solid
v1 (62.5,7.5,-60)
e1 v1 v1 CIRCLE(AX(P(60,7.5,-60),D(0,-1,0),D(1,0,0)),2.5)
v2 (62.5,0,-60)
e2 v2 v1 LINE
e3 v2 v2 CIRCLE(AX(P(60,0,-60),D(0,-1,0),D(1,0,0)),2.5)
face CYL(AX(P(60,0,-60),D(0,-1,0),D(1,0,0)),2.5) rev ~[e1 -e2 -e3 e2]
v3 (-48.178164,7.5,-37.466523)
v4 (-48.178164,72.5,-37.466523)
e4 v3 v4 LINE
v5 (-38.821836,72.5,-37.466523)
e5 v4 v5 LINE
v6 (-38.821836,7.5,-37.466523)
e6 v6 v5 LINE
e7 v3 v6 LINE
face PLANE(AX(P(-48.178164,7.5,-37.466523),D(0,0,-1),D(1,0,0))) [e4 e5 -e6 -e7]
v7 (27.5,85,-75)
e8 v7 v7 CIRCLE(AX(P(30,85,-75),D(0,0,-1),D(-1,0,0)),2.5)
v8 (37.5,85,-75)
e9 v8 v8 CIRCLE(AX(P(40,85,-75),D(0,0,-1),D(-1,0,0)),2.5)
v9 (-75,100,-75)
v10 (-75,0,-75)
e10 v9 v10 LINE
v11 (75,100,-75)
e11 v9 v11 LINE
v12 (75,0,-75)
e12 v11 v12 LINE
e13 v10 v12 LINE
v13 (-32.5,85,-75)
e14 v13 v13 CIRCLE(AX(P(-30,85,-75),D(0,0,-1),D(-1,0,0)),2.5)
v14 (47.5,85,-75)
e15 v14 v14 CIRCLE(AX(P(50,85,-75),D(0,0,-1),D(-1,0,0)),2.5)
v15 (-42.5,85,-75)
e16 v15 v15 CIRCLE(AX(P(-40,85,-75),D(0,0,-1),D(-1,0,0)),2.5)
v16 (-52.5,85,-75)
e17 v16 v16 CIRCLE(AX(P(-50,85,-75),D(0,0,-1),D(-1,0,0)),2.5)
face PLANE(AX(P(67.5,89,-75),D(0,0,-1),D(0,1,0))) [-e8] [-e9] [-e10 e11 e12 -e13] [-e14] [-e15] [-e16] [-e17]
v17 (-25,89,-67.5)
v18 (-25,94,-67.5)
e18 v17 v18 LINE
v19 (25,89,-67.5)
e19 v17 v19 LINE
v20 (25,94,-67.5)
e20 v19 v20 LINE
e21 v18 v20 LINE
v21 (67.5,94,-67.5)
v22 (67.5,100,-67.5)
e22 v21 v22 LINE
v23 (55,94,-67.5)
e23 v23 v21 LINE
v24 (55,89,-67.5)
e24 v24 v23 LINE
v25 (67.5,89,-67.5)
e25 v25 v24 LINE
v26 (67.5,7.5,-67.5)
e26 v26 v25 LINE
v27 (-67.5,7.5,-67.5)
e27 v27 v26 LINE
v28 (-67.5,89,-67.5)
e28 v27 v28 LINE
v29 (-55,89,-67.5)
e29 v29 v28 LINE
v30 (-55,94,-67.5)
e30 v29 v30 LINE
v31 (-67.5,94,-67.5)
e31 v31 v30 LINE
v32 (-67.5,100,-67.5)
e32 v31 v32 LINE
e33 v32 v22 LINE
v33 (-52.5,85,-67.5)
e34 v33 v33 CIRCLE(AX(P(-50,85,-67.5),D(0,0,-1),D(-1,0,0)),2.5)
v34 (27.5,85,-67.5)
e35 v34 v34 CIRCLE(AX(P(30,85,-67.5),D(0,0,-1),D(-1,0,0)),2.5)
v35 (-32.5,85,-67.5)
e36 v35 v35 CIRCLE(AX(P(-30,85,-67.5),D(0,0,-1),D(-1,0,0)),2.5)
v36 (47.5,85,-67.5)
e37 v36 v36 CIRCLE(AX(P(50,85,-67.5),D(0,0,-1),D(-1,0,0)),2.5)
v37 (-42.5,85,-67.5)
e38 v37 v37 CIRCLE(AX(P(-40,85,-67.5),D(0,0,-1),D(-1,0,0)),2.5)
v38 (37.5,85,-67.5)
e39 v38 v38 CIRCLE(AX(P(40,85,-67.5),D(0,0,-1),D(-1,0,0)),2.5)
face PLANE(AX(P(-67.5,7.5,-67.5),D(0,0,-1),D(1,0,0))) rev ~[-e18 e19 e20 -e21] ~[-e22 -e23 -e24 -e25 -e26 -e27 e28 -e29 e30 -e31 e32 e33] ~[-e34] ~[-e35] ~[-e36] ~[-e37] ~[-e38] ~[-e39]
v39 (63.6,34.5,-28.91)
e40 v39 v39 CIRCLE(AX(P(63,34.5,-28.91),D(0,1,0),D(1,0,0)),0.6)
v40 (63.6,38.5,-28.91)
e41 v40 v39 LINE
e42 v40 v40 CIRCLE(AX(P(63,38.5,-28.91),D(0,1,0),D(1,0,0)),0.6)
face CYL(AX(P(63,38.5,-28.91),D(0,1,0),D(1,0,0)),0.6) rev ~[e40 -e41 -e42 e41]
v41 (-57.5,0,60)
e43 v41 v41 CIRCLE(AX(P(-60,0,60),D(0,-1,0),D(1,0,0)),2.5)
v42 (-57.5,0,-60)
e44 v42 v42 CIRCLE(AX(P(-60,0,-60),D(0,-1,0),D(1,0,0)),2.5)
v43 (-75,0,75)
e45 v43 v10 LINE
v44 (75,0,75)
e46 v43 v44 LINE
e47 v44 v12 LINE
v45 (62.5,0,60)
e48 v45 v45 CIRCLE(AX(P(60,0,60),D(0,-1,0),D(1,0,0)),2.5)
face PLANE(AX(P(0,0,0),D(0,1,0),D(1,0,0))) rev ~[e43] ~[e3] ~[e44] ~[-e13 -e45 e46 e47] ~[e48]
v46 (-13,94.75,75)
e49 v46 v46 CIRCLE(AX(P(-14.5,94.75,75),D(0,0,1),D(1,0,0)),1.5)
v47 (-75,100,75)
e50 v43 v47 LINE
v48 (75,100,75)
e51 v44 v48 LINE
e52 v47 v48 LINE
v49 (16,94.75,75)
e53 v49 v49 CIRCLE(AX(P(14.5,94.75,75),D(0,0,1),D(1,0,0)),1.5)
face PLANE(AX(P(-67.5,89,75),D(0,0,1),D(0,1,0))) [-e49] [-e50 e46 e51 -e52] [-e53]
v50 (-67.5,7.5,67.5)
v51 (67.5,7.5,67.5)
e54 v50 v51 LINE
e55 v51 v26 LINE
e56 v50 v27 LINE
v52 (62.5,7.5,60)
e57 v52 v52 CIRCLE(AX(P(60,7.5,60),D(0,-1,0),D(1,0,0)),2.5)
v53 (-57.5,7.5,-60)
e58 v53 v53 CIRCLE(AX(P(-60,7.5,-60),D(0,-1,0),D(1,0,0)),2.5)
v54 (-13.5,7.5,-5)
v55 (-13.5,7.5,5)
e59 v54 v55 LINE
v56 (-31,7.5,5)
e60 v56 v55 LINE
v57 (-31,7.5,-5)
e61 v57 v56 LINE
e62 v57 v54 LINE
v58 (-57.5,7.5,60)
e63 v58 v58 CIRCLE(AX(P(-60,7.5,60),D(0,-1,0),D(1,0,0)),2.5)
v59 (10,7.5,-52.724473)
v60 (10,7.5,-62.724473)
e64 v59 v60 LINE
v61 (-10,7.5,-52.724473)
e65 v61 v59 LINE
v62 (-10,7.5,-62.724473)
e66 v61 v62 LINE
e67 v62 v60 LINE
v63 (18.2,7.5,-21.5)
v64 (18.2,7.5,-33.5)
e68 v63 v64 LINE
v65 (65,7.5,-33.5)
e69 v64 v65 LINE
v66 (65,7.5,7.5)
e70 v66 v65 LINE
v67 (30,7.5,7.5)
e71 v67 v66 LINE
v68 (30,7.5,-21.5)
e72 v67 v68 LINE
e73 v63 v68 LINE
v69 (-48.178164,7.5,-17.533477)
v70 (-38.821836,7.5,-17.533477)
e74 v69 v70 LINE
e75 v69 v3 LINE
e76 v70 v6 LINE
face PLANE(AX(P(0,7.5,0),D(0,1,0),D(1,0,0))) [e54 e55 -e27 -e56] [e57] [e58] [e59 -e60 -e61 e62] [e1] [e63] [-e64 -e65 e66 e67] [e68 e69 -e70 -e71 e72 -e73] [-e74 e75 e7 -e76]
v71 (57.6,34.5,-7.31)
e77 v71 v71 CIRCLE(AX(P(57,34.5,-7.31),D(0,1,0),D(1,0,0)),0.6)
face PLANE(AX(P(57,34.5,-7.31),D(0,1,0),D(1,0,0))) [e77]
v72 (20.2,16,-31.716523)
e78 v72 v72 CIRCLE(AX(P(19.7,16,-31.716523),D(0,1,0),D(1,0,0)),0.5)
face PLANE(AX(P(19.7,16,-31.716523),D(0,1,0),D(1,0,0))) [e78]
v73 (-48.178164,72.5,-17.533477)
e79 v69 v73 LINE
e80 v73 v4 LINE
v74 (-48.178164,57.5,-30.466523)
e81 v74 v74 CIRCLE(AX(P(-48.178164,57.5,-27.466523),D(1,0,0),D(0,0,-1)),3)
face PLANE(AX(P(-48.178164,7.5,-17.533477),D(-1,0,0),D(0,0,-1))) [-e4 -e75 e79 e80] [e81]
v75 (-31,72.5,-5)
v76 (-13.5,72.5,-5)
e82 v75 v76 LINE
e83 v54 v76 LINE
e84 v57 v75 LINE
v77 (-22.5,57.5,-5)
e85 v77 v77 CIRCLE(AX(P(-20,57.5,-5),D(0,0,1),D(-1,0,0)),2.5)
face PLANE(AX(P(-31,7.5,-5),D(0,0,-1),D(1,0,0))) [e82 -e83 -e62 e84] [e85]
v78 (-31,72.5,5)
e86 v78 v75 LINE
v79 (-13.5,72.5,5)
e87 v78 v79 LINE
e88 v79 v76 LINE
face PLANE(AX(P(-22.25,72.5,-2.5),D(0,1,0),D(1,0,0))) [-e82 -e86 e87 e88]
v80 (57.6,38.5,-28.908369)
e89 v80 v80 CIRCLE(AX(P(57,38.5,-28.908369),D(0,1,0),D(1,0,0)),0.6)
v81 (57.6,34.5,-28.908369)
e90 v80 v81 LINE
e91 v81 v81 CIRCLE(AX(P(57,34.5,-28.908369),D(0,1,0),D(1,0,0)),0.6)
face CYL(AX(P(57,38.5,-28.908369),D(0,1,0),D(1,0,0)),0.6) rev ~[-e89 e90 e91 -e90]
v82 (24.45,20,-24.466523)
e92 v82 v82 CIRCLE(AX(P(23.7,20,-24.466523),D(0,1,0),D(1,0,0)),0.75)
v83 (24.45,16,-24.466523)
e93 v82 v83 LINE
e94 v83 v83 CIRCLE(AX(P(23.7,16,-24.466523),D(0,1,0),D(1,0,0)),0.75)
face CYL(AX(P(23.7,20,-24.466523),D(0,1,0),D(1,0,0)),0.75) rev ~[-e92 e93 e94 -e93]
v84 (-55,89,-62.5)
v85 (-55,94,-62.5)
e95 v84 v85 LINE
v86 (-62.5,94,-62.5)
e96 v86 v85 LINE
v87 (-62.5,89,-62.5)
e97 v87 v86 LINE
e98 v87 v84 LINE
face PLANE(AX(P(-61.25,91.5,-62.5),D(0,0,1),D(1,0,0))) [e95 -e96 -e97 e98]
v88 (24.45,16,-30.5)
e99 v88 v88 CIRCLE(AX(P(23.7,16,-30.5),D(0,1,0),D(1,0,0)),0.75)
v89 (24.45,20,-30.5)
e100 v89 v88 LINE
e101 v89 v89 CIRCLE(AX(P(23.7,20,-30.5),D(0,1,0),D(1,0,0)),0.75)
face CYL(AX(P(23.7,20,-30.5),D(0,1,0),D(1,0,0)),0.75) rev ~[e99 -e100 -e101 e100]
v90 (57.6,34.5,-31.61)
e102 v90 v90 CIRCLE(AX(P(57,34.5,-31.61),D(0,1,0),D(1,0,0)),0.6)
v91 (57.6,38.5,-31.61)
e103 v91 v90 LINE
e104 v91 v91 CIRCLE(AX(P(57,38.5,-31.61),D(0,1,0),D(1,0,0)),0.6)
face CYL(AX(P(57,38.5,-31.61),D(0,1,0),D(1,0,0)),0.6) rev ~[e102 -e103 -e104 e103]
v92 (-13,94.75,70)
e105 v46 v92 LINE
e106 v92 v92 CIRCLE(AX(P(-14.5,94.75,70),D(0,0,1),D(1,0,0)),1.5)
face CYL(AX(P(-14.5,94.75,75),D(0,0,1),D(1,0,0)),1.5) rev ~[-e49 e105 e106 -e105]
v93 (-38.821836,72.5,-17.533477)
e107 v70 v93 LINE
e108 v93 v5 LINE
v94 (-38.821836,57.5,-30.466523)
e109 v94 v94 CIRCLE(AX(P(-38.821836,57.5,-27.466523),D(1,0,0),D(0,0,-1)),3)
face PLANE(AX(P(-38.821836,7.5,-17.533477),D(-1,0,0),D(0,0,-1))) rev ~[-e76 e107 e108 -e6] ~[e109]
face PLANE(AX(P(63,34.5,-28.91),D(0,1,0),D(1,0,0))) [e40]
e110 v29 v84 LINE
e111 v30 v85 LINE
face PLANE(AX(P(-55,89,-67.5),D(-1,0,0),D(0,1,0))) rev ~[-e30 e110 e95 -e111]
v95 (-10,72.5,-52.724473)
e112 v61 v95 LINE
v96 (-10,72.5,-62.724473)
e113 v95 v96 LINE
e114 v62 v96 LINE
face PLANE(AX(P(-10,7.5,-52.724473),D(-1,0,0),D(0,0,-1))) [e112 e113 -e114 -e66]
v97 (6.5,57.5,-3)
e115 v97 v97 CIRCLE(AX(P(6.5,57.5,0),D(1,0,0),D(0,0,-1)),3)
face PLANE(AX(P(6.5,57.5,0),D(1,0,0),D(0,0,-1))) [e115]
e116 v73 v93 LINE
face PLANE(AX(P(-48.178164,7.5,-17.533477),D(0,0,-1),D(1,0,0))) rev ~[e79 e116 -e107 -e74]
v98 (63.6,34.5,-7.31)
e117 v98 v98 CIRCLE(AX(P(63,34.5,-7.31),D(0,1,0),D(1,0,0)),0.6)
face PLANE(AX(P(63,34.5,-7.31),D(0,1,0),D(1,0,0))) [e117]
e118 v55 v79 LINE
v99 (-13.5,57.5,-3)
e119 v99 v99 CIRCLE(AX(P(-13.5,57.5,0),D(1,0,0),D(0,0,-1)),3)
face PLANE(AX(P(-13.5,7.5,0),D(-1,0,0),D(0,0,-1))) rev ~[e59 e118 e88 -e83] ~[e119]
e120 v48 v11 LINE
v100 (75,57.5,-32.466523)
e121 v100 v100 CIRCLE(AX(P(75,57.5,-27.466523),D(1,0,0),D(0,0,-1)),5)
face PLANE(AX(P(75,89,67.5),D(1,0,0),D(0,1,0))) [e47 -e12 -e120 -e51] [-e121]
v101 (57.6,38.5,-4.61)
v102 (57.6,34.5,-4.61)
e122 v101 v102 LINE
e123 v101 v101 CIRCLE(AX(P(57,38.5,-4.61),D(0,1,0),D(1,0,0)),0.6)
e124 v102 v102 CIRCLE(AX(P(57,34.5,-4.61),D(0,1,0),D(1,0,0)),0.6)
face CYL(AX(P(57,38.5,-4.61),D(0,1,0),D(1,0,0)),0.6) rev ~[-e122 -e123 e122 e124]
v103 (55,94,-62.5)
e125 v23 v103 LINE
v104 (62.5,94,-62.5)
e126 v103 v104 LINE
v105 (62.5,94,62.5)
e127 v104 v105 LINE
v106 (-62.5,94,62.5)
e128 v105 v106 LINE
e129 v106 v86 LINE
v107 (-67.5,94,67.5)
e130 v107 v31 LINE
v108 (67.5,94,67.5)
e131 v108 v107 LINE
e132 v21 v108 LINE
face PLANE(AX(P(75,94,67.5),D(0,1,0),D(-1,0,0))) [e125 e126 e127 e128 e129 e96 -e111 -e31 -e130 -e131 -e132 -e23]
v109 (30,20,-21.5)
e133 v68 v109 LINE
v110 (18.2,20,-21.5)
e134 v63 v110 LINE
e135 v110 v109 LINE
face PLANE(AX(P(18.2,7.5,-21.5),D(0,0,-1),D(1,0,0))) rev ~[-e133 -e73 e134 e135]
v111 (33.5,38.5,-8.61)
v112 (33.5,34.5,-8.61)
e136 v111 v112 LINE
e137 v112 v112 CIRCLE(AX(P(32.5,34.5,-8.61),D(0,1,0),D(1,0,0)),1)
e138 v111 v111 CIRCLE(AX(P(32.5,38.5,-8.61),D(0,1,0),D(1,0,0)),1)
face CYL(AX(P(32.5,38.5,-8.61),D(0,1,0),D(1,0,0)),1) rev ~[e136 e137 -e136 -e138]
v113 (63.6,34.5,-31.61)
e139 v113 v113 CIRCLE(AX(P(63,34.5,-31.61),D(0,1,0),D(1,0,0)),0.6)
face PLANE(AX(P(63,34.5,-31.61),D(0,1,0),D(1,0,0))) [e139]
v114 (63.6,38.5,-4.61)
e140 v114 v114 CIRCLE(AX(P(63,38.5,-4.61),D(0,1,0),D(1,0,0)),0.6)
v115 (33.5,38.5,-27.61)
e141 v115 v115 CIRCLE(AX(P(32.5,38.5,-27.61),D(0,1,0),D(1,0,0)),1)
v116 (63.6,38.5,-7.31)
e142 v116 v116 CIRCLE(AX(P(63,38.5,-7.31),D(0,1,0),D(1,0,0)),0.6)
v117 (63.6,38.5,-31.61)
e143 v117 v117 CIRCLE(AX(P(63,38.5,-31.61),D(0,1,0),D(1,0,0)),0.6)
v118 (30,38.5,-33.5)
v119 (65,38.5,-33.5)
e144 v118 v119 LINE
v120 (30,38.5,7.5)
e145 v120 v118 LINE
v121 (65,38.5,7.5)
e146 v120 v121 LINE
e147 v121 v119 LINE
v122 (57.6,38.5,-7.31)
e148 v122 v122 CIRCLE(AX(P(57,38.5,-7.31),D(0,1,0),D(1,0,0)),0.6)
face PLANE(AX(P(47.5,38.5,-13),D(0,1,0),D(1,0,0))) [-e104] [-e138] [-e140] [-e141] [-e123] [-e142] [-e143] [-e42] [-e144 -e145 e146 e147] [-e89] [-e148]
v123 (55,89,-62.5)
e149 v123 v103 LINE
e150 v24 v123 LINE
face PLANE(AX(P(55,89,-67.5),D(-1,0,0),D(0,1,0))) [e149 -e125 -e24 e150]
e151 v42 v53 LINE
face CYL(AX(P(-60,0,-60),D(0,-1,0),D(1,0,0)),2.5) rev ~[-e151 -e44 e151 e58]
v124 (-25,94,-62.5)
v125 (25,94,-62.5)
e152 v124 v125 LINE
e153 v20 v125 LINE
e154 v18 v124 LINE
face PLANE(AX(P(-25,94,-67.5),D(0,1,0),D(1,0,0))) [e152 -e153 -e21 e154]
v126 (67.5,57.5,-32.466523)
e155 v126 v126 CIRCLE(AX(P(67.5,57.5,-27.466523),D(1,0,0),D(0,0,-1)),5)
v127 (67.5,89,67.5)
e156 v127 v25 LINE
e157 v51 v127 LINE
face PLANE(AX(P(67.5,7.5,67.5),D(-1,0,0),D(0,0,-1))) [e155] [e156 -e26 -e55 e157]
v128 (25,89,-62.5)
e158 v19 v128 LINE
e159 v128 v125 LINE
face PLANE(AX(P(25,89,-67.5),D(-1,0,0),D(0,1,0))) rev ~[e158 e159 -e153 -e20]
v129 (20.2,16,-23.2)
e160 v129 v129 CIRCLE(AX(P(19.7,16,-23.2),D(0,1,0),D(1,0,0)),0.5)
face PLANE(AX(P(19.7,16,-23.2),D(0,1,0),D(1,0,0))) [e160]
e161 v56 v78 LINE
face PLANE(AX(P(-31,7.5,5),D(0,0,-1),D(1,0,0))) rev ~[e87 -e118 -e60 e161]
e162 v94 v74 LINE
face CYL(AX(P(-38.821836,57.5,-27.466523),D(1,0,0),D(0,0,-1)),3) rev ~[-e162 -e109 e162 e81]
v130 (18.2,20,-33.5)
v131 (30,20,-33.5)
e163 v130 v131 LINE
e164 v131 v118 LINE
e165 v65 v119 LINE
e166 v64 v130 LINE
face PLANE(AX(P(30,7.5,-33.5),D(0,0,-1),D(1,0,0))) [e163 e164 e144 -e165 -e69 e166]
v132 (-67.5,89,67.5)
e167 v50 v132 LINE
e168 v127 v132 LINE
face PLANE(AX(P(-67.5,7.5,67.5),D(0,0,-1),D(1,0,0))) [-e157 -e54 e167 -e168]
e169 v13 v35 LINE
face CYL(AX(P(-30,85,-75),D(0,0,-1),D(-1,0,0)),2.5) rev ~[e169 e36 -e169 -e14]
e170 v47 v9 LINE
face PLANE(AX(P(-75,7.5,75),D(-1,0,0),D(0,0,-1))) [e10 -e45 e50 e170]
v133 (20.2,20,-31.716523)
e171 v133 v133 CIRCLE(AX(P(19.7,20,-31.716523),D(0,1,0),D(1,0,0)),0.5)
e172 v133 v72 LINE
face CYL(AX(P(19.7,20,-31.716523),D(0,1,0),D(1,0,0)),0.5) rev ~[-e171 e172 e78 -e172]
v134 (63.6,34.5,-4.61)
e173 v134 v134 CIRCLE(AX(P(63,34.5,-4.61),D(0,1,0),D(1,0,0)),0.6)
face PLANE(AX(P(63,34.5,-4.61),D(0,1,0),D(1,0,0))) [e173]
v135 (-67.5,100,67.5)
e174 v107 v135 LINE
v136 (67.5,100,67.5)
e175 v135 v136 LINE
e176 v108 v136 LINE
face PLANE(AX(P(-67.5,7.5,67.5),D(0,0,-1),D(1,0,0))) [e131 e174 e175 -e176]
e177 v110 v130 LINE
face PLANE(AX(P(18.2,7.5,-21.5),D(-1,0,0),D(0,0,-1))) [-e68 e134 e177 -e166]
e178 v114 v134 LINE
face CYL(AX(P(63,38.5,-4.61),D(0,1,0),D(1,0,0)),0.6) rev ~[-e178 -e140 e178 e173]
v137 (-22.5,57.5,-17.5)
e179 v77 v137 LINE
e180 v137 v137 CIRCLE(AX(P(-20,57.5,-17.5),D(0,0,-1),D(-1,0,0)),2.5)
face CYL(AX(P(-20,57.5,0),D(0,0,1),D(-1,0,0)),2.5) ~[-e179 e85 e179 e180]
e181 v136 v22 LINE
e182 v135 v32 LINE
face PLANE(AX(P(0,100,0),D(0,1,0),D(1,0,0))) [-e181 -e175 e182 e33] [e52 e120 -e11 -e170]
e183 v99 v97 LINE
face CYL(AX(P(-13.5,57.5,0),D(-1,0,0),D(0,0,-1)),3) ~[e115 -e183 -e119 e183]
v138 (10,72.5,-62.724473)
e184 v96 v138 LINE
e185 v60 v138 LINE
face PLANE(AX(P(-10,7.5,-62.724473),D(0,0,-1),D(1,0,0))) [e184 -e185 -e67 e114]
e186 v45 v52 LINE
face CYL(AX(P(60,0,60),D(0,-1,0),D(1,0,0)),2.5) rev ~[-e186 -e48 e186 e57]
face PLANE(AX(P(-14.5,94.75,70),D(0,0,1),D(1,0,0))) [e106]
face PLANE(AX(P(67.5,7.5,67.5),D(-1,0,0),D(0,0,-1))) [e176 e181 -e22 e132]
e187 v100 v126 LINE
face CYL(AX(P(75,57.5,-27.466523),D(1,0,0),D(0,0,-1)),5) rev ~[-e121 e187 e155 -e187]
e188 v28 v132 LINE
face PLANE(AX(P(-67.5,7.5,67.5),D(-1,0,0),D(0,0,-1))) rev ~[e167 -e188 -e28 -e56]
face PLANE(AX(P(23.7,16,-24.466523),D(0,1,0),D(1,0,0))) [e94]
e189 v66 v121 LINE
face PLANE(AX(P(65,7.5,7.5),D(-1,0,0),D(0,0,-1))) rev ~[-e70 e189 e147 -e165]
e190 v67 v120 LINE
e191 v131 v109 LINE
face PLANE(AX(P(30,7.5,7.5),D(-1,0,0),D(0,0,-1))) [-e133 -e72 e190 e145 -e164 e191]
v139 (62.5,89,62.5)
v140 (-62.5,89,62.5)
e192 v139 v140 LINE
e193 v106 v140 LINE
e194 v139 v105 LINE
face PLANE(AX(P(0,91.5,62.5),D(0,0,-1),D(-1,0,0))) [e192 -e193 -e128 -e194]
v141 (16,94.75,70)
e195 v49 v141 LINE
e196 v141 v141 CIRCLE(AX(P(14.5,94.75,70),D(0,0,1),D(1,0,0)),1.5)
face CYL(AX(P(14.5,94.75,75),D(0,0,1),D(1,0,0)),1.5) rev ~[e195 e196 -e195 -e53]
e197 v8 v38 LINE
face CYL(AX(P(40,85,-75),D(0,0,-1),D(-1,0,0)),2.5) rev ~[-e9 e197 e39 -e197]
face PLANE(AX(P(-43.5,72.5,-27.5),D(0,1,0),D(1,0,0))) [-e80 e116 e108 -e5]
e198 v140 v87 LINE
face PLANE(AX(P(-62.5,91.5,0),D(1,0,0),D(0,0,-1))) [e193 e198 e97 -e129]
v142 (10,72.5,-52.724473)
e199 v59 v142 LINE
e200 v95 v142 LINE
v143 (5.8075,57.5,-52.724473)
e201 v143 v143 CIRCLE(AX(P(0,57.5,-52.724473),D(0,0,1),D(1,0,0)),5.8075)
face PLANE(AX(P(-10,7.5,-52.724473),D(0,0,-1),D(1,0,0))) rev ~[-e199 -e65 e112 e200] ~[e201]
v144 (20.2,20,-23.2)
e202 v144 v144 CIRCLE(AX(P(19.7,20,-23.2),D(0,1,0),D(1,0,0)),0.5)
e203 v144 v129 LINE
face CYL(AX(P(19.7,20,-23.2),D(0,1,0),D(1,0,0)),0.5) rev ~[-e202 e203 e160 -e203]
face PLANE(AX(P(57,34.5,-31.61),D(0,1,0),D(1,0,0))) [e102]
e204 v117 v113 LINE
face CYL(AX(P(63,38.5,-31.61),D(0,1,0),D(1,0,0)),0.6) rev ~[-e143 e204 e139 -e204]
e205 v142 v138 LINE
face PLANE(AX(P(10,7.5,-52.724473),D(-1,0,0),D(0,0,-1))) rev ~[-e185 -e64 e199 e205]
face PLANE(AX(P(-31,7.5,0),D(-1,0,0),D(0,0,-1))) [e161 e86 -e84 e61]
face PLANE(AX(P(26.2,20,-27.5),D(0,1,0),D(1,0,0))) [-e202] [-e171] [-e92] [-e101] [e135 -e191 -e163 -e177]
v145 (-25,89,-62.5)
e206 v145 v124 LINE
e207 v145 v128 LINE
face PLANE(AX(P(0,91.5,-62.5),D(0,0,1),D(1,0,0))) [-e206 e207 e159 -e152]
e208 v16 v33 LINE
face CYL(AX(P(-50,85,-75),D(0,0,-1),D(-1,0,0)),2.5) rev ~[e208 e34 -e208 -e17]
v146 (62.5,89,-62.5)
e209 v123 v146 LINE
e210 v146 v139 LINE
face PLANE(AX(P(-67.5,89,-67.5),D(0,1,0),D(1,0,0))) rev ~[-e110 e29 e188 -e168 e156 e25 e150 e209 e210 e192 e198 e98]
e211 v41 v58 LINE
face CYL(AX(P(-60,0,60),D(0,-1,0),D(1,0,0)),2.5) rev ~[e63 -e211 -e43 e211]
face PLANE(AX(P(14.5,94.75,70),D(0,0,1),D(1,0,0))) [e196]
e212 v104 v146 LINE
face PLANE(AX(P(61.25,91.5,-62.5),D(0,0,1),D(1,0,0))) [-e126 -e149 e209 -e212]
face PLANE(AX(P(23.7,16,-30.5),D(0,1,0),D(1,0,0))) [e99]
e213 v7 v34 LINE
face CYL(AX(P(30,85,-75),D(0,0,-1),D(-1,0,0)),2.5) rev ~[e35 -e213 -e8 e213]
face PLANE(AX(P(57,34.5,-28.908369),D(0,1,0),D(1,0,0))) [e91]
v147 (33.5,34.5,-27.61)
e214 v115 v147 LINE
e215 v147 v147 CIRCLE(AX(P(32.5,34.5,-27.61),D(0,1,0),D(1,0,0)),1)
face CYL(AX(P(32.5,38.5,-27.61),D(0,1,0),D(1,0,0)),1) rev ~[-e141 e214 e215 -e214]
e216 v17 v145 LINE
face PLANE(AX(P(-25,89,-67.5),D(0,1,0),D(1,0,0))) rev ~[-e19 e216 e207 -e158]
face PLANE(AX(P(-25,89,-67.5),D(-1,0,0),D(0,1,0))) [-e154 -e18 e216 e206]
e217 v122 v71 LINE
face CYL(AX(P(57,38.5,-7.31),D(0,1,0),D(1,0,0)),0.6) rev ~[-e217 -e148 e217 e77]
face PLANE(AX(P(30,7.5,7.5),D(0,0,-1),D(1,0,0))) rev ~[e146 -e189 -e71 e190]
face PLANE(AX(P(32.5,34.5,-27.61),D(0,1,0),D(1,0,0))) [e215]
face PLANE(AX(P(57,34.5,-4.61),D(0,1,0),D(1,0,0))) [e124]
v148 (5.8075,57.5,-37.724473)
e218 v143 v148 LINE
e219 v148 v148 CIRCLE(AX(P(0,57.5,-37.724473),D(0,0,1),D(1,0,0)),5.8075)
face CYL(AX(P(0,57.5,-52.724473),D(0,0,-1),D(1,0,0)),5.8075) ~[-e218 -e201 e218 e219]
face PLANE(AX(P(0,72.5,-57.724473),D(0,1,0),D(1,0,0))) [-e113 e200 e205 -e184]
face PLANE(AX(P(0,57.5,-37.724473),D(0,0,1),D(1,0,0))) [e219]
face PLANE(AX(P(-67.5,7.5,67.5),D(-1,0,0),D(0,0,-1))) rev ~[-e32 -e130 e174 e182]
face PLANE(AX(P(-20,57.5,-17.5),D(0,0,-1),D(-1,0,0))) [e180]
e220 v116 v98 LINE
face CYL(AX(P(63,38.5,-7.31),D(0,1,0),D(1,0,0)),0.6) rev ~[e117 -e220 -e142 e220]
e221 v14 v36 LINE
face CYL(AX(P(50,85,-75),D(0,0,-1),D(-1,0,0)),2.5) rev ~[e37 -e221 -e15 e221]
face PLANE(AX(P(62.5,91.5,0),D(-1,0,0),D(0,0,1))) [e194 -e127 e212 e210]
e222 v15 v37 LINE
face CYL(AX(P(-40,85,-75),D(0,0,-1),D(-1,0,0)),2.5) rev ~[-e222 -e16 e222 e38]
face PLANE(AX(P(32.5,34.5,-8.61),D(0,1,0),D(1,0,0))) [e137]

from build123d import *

# Parameters (mm, degrees)
SKETCH1_W            = 150
SKETCH1_H            = 150
BOSS_EXTRUDE1_DEPTH  = 7.5
SKETCH2_W            = 150
SKETCH2_H            = 150
SKETCH2_W_2          = 135
SKETCH2_H_2          = 135
BOSS_EXTRUDE2_DEPTH  = 92.5
SKETCH3_W            = 20
SKETCH3_H            = 10
BOSS_EXTRUDE3_DEPTH  = 65
SKETCH4_R            = 5.8075
BOSS_EXTRUDE4_DEPTH  = 15
SKETCH5_W            = 9.35632758
SKETCH5_H            = 19.933045712
BOSS_EXTRUDE5_DEPTH  = 65
SKETCH7_W            = 7.5
SKETCH7_H            = 5
SKETCH7_W_2          = 10
BOSS_EXTRUDE7_DEPTH  = 65
SKETCH8_R            = 2.5
BOSS_EXTRUDE8_DEPTH  = 17.5
SKETCH10_W           = 17.5
SKETCH10_H           = 5
BOSS_EXTRUDE10_DEPTH = 65
SKETCH12_R           = 3
BOSS_EXTRUDE11_DEPTH = 20
SKETCH6_R            = 3
CUT_EXTRUDE1_DEPTH   = 10
SKETCH13_W           = 16
SKETCH13_H           = 12
BOSS_EXTRUDE12_DEPTH = 12.5
SKETCH14_W           = 35
SKETCH14_H           = 41
BOSS_EXTRUDE13_DEPTH = 31
SKETCH15_R           = 5
CUT_EXTRUDE2_DEPTH   = 10
SKETCH16_W           = 150
SKETCH16_H           = 5
BOSS_EXTRUDE14_DEPTH = 5
SKETCH17_W           = 12.5
SKETCH17_H           = 5
SKETCH17_W_2         = 50
BOSS_EXTRUDE15_DEPTH = 5
SKETCH18_W           = 150
SKETCH18_H           = 5
BOSS_EXTRUDE16_DEPTH = 5
SKETCH19_W           = 150
SKETCH19_H           = 5
BOSS_EXTRUDE17_DEPTH = 5
SKETCH20_R           = 2.5
CUT_EXTRUDE3_DEPTH   = 10
SKETCH21_R           = 2.5
CUT_EXTRUDE4_DEPTH   = 10
SKETCH22_R           = 1.5
CUT_EXTRUDE5_DEPTH   = 5
SKETCH23_R           = 1
SKETCH23_R_2         = 0.6
CUT_EXTRUDE6_DEPTH   = 4
SKETCH24_R           = 0.75
SKETCH24_R_2         = 0.5
CUT_EXTRUDE7_DEPTH   = 4


with BuildPart() as part:
    # Sketch1 → Boss-Extrude1 (new body)
    with BuildSketch(Plane(origin=(0, 0, 0), x_dir=(1, 0, 0), z_dir=(0, 1, 0))):
        Rectangle(SKETCH1_W, SKETCH1_H)
    extrude(amount=BOSS_EXTRUDE1_DEPTH)

    # Sketch2 → Boss-Extrude2 (add)
    with BuildSketch(Plane(origin=(0, 7.5, 0), x_dir=(1, 0, 0), z_dir=(0, 1, 0))):
        Rectangle(SKETCH2_W, SKETCH2_H)
        Rectangle(SKETCH2_W_2, SKETCH2_H_2, mode=Mode.SUBTRACT)
    extrude(amount=BOSS_EXTRUDE2_DEPTH)

    # Sketch3 → Boss-Extrude3 (add)
    with BuildSketch(Plane(origin=(0, 7.5, 0), x_dir=(1, 0, 0), z_dir=(0, 1, 0))):
        with Locations((0, 57.724473197)):
            Rectangle(SKETCH3_W, SKETCH3_H)
    extrude(amount=BOSS_EXTRUDE3_DEPTH)

    # Sketch4 → Boss-Extrude4 (add)
    with BuildSketch(Plane.XY.offset(-52.724473197)):
        with Locations((0, 57.5)):
            Circle(SKETCH4_R)
    extrude(amount=BOSS_EXTRUDE4_DEPTH)

    # Sketch5 → Boss-Extrude5 (add)
    with BuildSketch(Plane(origin=(0, 7.5, 0), x_dir=(1, 0, 0), z_dir=(0, 1, 0))):
        with Locations((-43.5, 27.5)):
            Rectangle(SKETCH5_W, SKETCH5_H)
    extrude(amount=BOSS_EXTRUDE5_DEPTH)

    # Sketch7 → Boss-Extrude7 (add)
    with BuildSketch(Plane(origin=(0, 7.5, 0), x_dir=(1, 0, 0), z_dir=(0, 1, 0))):
        with Locations((-27.25, -2.5)):
            Rectangle(SKETCH7_W, SKETCH7_H)
        with Locations((-18.5, -2.5)):
            Rectangle(SKETCH7_W_2, SKETCH7_H)
    extrude(amount=BOSS_EXTRUDE7_DEPTH)

    # Sketch8 → Boss-Extrude8 (add)
    with BuildSketch(Plane(origin=(0, 0, 0), x_dir=(-1, 0, 0), z_dir=(0, 0, -1))):
        with Locations((20, 57.5)):
            Circle(SKETCH8_R)
    extrude(amount=BOSS_EXTRUDE8_DEPTH)

    # Sketch10 → Boss-Extrude10 (add)
    with BuildSketch(Plane(origin=(0, 7.5, 0), x_dir=(1, 0, 0), z_dir=(0, 1, 0))):
        with Locations((-22.25, 2.5)):
            Rectangle(SKETCH10_W, SKETCH10_H)
    extrude(amount=BOSS_EXTRUDE10_DEPTH)

    # Sketch12 → Boss-Extrude11 (add)
    with BuildSketch(Plane(origin=(-13.5, 0, 0), x_dir=(0, 0, -1), z_dir=(1, 0, 0))):
        with Locations((0, 57.5)):
            Circle(SKETCH12_R)
    extrude(amount=BOSS_EXTRUDE11_DEPTH)

    # Sketch6 → Cut-Extrude1 (cut)
    with BuildSketch(Plane(origin=(-38.82183621, 0, 0), x_dir=(0, 0, -1), z_dir=(1, 0, 0))):
        with Locations((27.466522856, 57.5)):
            Circle(SKETCH6_R)
    extrude(amount=-CUT_EXTRUDE1_DEPTH, mode=Mode.SUBTRACT)

    # Sketch13 → Boss-Extrude12 (add)
    with BuildSketch(Plane(origin=(0, 7.5, 0), x_dir=(1, 0, 0), z_dir=(0, 1, 0))):
        with Locations((26.2, 27.5)):
            Rectangle(SKETCH13_W, SKETCH13_H)
    extrude(amount=BOSS_EXTRUDE12_DEPTH)

    # Sketch14 → Boss-Extrude13 (add)
    with BuildSketch(Plane(origin=(0, 7.5, 0), x_dir=(1, 0, 0), z_dir=(0, 1, 0))):
        with Locations((47.5, 13)):
            Rectangle(SKETCH14_W, SKETCH14_H)
    extrude(amount=BOSS_EXTRUDE13_DEPTH)

    # Sketch15 → Cut-Extrude2 (cut)
    with BuildSketch(Plane(origin=(75, 0, 0), x_dir=(0, 0, -1), z_dir=(1, 0, 0))):
        with Locations((27.466523, 57.5)):
            Circle(SKETCH15_R)
    extrude(amount=-CUT_EXTRUDE2_DEPTH, mode=Mode.SUBTRACT)

    # Sketch16 → Boss-Extrude14 (add)
    with BuildSketch(Plane(origin=(0, 0, 67.5), x_dir=(-1, 0, 0), z_dir=(0, 0, -1))):
        with Locations((0, 91.5)):
            Rectangle(SKETCH16_W, SKETCH16_H)
    extrude(amount=BOSS_EXTRUDE14_DEPTH)

    # Sketch17 → Boss-Extrude15 (add)
    with BuildSketch(Plane.XY.offset(-67.5)):
        with Locations((-61.25, 91.5)):
            Rectangle(SKETCH17_W, SKETCH17_H)
        with Locations((0, 91.5)):
            Rectangle(SKETCH17_W_2, SKETCH17_H)
        with Locations((61.25, 91.5)):
            Rectangle(SKETCH17_W, SKETCH17_H)
    extrude(amount=BOSS_EXTRUDE15_DEPTH)

    # Sketch18 → Boss-Extrude16 (add)
    with BuildSketch(Plane.ZY.offset(-67.5)):
        with Locations((0, 91.5)):
            Rectangle(SKETCH18_W, SKETCH18_H)
    extrude(amount=BOSS_EXTRUDE16_DEPTH)

    # Sketch19 → Boss-Extrude17 (add)
    with BuildSketch(Plane(origin=(-67.5, 0, 0), x_dir=(0, 0, -1), z_dir=(1, 0, 0))):
        with Locations((0, 91.5)):
            Rectangle(SKETCH19_W, SKETCH19_H)
    extrude(amount=BOSS_EXTRUDE17_DEPTH)

    # Sketch20 → Cut-Extrude3 (cut)
    with BuildSketch(Plane(origin=(0, 0, -75), x_dir=(-1, 0, 0), z_dir=(0, 0, -1))):
        with Locations((-50, 85)):
            Circle(SKETCH20_R)
        with Locations((-40, 85)):
            Circle(SKETCH20_R)
        with Locations((-30, 85)):
            Circle(SKETCH20_R)
        with Locations((30, 85)):
            Circle(SKETCH20_R)
        with Locations((40, 85)):
            Circle(SKETCH20_R)
        with Locations((50, 85)):
            Circle(SKETCH20_R)
    extrude(amount=-CUT_EXTRUDE3_DEPTH, mode=Mode.SUBTRACT)

    # Sketch21 → Cut-Extrude4 (cut)
    with BuildSketch(Plane.XZ):
        with Locations((-60, 60)):
            Circle(SKETCH21_R)
        with Locations((60, 60)):
            Circle(SKETCH21_R)
        with Locations((-60, -60)):
            Circle(SKETCH21_R)
        with Locations((60, -60)):
            Circle(SKETCH21_R)
    extrude(amount=-CUT_EXTRUDE4_DEPTH, mode=Mode.SUBTRACT)

    # Sketch22 → Cut-Extrude5 (cut)
    with BuildSketch(Plane.XY.offset(75)):
        with Locations((-14.5, 94.75)):
            Circle(SKETCH22_R)
        with Locations((14.5, 94.75)):
            Circle(SKETCH22_R)
    extrude(amount=-CUT_EXTRUDE5_DEPTH, mode=Mode.SUBTRACT)

    # Sketch23 → Cut-Extrude6 (cut)
    with BuildSketch(Plane(origin=(0, 38.5, 0), x_dir=(1, 0, 0), z_dir=(0, 1, 0))):
        with Locations((32.5, 8.61)):
            Circle(SKETCH23_R)
        with Locations((32.5, 27.61)):
            Circle(SKETCH23_R)
        with Locations((63, 31.61)):
            Circle(SKETCH23_R_2)
        with Locations((57, 31.61)):
            Circle(SKETCH23_R_2)
        with Locations((57, 7.31)):
            Circle(SKETCH23_R_2)
        with Locations((63, 7.31)):
            Circle(SKETCH23_R_2)
        with Locations((57, 28.908369489)):
            Circle(SKETCH23_R_2)
        with Locations((63, 28.91)):
            Circle(SKETCH23_R_2)
        with Locations((63, 4.61)):
            Circle(SKETCH23_R_2)
        with Locations((57, 4.61)):
            Circle(SKETCH23_R_2)
    extrude(amount=-CUT_EXTRUDE6_DEPTH, mode=Mode.SUBTRACT)

    # Sketch24 → Cut-Extrude7 (cut)
    with BuildSketch(Plane(origin=(0, 20, 0), x_dir=(1, 0, 0), z_dir=(0, 1, 0))):
        with Locations((23.7, 24.466522856)):
            Circle(SKETCH24_R)
        with Locations((23.7, 30.5)):
            Circle(SKETCH24_R)
        with Locations((19.7, 31.716522856)):
            Circle(SKETCH24_R_2)
        with Locations((19.7, 23.2)):
            Circle(SKETCH24_R_2)
    extrude(amount=-CUT_EXTRUDE7_DEPTH, mode=Mode.SUBTRACT)


solid = part.part
